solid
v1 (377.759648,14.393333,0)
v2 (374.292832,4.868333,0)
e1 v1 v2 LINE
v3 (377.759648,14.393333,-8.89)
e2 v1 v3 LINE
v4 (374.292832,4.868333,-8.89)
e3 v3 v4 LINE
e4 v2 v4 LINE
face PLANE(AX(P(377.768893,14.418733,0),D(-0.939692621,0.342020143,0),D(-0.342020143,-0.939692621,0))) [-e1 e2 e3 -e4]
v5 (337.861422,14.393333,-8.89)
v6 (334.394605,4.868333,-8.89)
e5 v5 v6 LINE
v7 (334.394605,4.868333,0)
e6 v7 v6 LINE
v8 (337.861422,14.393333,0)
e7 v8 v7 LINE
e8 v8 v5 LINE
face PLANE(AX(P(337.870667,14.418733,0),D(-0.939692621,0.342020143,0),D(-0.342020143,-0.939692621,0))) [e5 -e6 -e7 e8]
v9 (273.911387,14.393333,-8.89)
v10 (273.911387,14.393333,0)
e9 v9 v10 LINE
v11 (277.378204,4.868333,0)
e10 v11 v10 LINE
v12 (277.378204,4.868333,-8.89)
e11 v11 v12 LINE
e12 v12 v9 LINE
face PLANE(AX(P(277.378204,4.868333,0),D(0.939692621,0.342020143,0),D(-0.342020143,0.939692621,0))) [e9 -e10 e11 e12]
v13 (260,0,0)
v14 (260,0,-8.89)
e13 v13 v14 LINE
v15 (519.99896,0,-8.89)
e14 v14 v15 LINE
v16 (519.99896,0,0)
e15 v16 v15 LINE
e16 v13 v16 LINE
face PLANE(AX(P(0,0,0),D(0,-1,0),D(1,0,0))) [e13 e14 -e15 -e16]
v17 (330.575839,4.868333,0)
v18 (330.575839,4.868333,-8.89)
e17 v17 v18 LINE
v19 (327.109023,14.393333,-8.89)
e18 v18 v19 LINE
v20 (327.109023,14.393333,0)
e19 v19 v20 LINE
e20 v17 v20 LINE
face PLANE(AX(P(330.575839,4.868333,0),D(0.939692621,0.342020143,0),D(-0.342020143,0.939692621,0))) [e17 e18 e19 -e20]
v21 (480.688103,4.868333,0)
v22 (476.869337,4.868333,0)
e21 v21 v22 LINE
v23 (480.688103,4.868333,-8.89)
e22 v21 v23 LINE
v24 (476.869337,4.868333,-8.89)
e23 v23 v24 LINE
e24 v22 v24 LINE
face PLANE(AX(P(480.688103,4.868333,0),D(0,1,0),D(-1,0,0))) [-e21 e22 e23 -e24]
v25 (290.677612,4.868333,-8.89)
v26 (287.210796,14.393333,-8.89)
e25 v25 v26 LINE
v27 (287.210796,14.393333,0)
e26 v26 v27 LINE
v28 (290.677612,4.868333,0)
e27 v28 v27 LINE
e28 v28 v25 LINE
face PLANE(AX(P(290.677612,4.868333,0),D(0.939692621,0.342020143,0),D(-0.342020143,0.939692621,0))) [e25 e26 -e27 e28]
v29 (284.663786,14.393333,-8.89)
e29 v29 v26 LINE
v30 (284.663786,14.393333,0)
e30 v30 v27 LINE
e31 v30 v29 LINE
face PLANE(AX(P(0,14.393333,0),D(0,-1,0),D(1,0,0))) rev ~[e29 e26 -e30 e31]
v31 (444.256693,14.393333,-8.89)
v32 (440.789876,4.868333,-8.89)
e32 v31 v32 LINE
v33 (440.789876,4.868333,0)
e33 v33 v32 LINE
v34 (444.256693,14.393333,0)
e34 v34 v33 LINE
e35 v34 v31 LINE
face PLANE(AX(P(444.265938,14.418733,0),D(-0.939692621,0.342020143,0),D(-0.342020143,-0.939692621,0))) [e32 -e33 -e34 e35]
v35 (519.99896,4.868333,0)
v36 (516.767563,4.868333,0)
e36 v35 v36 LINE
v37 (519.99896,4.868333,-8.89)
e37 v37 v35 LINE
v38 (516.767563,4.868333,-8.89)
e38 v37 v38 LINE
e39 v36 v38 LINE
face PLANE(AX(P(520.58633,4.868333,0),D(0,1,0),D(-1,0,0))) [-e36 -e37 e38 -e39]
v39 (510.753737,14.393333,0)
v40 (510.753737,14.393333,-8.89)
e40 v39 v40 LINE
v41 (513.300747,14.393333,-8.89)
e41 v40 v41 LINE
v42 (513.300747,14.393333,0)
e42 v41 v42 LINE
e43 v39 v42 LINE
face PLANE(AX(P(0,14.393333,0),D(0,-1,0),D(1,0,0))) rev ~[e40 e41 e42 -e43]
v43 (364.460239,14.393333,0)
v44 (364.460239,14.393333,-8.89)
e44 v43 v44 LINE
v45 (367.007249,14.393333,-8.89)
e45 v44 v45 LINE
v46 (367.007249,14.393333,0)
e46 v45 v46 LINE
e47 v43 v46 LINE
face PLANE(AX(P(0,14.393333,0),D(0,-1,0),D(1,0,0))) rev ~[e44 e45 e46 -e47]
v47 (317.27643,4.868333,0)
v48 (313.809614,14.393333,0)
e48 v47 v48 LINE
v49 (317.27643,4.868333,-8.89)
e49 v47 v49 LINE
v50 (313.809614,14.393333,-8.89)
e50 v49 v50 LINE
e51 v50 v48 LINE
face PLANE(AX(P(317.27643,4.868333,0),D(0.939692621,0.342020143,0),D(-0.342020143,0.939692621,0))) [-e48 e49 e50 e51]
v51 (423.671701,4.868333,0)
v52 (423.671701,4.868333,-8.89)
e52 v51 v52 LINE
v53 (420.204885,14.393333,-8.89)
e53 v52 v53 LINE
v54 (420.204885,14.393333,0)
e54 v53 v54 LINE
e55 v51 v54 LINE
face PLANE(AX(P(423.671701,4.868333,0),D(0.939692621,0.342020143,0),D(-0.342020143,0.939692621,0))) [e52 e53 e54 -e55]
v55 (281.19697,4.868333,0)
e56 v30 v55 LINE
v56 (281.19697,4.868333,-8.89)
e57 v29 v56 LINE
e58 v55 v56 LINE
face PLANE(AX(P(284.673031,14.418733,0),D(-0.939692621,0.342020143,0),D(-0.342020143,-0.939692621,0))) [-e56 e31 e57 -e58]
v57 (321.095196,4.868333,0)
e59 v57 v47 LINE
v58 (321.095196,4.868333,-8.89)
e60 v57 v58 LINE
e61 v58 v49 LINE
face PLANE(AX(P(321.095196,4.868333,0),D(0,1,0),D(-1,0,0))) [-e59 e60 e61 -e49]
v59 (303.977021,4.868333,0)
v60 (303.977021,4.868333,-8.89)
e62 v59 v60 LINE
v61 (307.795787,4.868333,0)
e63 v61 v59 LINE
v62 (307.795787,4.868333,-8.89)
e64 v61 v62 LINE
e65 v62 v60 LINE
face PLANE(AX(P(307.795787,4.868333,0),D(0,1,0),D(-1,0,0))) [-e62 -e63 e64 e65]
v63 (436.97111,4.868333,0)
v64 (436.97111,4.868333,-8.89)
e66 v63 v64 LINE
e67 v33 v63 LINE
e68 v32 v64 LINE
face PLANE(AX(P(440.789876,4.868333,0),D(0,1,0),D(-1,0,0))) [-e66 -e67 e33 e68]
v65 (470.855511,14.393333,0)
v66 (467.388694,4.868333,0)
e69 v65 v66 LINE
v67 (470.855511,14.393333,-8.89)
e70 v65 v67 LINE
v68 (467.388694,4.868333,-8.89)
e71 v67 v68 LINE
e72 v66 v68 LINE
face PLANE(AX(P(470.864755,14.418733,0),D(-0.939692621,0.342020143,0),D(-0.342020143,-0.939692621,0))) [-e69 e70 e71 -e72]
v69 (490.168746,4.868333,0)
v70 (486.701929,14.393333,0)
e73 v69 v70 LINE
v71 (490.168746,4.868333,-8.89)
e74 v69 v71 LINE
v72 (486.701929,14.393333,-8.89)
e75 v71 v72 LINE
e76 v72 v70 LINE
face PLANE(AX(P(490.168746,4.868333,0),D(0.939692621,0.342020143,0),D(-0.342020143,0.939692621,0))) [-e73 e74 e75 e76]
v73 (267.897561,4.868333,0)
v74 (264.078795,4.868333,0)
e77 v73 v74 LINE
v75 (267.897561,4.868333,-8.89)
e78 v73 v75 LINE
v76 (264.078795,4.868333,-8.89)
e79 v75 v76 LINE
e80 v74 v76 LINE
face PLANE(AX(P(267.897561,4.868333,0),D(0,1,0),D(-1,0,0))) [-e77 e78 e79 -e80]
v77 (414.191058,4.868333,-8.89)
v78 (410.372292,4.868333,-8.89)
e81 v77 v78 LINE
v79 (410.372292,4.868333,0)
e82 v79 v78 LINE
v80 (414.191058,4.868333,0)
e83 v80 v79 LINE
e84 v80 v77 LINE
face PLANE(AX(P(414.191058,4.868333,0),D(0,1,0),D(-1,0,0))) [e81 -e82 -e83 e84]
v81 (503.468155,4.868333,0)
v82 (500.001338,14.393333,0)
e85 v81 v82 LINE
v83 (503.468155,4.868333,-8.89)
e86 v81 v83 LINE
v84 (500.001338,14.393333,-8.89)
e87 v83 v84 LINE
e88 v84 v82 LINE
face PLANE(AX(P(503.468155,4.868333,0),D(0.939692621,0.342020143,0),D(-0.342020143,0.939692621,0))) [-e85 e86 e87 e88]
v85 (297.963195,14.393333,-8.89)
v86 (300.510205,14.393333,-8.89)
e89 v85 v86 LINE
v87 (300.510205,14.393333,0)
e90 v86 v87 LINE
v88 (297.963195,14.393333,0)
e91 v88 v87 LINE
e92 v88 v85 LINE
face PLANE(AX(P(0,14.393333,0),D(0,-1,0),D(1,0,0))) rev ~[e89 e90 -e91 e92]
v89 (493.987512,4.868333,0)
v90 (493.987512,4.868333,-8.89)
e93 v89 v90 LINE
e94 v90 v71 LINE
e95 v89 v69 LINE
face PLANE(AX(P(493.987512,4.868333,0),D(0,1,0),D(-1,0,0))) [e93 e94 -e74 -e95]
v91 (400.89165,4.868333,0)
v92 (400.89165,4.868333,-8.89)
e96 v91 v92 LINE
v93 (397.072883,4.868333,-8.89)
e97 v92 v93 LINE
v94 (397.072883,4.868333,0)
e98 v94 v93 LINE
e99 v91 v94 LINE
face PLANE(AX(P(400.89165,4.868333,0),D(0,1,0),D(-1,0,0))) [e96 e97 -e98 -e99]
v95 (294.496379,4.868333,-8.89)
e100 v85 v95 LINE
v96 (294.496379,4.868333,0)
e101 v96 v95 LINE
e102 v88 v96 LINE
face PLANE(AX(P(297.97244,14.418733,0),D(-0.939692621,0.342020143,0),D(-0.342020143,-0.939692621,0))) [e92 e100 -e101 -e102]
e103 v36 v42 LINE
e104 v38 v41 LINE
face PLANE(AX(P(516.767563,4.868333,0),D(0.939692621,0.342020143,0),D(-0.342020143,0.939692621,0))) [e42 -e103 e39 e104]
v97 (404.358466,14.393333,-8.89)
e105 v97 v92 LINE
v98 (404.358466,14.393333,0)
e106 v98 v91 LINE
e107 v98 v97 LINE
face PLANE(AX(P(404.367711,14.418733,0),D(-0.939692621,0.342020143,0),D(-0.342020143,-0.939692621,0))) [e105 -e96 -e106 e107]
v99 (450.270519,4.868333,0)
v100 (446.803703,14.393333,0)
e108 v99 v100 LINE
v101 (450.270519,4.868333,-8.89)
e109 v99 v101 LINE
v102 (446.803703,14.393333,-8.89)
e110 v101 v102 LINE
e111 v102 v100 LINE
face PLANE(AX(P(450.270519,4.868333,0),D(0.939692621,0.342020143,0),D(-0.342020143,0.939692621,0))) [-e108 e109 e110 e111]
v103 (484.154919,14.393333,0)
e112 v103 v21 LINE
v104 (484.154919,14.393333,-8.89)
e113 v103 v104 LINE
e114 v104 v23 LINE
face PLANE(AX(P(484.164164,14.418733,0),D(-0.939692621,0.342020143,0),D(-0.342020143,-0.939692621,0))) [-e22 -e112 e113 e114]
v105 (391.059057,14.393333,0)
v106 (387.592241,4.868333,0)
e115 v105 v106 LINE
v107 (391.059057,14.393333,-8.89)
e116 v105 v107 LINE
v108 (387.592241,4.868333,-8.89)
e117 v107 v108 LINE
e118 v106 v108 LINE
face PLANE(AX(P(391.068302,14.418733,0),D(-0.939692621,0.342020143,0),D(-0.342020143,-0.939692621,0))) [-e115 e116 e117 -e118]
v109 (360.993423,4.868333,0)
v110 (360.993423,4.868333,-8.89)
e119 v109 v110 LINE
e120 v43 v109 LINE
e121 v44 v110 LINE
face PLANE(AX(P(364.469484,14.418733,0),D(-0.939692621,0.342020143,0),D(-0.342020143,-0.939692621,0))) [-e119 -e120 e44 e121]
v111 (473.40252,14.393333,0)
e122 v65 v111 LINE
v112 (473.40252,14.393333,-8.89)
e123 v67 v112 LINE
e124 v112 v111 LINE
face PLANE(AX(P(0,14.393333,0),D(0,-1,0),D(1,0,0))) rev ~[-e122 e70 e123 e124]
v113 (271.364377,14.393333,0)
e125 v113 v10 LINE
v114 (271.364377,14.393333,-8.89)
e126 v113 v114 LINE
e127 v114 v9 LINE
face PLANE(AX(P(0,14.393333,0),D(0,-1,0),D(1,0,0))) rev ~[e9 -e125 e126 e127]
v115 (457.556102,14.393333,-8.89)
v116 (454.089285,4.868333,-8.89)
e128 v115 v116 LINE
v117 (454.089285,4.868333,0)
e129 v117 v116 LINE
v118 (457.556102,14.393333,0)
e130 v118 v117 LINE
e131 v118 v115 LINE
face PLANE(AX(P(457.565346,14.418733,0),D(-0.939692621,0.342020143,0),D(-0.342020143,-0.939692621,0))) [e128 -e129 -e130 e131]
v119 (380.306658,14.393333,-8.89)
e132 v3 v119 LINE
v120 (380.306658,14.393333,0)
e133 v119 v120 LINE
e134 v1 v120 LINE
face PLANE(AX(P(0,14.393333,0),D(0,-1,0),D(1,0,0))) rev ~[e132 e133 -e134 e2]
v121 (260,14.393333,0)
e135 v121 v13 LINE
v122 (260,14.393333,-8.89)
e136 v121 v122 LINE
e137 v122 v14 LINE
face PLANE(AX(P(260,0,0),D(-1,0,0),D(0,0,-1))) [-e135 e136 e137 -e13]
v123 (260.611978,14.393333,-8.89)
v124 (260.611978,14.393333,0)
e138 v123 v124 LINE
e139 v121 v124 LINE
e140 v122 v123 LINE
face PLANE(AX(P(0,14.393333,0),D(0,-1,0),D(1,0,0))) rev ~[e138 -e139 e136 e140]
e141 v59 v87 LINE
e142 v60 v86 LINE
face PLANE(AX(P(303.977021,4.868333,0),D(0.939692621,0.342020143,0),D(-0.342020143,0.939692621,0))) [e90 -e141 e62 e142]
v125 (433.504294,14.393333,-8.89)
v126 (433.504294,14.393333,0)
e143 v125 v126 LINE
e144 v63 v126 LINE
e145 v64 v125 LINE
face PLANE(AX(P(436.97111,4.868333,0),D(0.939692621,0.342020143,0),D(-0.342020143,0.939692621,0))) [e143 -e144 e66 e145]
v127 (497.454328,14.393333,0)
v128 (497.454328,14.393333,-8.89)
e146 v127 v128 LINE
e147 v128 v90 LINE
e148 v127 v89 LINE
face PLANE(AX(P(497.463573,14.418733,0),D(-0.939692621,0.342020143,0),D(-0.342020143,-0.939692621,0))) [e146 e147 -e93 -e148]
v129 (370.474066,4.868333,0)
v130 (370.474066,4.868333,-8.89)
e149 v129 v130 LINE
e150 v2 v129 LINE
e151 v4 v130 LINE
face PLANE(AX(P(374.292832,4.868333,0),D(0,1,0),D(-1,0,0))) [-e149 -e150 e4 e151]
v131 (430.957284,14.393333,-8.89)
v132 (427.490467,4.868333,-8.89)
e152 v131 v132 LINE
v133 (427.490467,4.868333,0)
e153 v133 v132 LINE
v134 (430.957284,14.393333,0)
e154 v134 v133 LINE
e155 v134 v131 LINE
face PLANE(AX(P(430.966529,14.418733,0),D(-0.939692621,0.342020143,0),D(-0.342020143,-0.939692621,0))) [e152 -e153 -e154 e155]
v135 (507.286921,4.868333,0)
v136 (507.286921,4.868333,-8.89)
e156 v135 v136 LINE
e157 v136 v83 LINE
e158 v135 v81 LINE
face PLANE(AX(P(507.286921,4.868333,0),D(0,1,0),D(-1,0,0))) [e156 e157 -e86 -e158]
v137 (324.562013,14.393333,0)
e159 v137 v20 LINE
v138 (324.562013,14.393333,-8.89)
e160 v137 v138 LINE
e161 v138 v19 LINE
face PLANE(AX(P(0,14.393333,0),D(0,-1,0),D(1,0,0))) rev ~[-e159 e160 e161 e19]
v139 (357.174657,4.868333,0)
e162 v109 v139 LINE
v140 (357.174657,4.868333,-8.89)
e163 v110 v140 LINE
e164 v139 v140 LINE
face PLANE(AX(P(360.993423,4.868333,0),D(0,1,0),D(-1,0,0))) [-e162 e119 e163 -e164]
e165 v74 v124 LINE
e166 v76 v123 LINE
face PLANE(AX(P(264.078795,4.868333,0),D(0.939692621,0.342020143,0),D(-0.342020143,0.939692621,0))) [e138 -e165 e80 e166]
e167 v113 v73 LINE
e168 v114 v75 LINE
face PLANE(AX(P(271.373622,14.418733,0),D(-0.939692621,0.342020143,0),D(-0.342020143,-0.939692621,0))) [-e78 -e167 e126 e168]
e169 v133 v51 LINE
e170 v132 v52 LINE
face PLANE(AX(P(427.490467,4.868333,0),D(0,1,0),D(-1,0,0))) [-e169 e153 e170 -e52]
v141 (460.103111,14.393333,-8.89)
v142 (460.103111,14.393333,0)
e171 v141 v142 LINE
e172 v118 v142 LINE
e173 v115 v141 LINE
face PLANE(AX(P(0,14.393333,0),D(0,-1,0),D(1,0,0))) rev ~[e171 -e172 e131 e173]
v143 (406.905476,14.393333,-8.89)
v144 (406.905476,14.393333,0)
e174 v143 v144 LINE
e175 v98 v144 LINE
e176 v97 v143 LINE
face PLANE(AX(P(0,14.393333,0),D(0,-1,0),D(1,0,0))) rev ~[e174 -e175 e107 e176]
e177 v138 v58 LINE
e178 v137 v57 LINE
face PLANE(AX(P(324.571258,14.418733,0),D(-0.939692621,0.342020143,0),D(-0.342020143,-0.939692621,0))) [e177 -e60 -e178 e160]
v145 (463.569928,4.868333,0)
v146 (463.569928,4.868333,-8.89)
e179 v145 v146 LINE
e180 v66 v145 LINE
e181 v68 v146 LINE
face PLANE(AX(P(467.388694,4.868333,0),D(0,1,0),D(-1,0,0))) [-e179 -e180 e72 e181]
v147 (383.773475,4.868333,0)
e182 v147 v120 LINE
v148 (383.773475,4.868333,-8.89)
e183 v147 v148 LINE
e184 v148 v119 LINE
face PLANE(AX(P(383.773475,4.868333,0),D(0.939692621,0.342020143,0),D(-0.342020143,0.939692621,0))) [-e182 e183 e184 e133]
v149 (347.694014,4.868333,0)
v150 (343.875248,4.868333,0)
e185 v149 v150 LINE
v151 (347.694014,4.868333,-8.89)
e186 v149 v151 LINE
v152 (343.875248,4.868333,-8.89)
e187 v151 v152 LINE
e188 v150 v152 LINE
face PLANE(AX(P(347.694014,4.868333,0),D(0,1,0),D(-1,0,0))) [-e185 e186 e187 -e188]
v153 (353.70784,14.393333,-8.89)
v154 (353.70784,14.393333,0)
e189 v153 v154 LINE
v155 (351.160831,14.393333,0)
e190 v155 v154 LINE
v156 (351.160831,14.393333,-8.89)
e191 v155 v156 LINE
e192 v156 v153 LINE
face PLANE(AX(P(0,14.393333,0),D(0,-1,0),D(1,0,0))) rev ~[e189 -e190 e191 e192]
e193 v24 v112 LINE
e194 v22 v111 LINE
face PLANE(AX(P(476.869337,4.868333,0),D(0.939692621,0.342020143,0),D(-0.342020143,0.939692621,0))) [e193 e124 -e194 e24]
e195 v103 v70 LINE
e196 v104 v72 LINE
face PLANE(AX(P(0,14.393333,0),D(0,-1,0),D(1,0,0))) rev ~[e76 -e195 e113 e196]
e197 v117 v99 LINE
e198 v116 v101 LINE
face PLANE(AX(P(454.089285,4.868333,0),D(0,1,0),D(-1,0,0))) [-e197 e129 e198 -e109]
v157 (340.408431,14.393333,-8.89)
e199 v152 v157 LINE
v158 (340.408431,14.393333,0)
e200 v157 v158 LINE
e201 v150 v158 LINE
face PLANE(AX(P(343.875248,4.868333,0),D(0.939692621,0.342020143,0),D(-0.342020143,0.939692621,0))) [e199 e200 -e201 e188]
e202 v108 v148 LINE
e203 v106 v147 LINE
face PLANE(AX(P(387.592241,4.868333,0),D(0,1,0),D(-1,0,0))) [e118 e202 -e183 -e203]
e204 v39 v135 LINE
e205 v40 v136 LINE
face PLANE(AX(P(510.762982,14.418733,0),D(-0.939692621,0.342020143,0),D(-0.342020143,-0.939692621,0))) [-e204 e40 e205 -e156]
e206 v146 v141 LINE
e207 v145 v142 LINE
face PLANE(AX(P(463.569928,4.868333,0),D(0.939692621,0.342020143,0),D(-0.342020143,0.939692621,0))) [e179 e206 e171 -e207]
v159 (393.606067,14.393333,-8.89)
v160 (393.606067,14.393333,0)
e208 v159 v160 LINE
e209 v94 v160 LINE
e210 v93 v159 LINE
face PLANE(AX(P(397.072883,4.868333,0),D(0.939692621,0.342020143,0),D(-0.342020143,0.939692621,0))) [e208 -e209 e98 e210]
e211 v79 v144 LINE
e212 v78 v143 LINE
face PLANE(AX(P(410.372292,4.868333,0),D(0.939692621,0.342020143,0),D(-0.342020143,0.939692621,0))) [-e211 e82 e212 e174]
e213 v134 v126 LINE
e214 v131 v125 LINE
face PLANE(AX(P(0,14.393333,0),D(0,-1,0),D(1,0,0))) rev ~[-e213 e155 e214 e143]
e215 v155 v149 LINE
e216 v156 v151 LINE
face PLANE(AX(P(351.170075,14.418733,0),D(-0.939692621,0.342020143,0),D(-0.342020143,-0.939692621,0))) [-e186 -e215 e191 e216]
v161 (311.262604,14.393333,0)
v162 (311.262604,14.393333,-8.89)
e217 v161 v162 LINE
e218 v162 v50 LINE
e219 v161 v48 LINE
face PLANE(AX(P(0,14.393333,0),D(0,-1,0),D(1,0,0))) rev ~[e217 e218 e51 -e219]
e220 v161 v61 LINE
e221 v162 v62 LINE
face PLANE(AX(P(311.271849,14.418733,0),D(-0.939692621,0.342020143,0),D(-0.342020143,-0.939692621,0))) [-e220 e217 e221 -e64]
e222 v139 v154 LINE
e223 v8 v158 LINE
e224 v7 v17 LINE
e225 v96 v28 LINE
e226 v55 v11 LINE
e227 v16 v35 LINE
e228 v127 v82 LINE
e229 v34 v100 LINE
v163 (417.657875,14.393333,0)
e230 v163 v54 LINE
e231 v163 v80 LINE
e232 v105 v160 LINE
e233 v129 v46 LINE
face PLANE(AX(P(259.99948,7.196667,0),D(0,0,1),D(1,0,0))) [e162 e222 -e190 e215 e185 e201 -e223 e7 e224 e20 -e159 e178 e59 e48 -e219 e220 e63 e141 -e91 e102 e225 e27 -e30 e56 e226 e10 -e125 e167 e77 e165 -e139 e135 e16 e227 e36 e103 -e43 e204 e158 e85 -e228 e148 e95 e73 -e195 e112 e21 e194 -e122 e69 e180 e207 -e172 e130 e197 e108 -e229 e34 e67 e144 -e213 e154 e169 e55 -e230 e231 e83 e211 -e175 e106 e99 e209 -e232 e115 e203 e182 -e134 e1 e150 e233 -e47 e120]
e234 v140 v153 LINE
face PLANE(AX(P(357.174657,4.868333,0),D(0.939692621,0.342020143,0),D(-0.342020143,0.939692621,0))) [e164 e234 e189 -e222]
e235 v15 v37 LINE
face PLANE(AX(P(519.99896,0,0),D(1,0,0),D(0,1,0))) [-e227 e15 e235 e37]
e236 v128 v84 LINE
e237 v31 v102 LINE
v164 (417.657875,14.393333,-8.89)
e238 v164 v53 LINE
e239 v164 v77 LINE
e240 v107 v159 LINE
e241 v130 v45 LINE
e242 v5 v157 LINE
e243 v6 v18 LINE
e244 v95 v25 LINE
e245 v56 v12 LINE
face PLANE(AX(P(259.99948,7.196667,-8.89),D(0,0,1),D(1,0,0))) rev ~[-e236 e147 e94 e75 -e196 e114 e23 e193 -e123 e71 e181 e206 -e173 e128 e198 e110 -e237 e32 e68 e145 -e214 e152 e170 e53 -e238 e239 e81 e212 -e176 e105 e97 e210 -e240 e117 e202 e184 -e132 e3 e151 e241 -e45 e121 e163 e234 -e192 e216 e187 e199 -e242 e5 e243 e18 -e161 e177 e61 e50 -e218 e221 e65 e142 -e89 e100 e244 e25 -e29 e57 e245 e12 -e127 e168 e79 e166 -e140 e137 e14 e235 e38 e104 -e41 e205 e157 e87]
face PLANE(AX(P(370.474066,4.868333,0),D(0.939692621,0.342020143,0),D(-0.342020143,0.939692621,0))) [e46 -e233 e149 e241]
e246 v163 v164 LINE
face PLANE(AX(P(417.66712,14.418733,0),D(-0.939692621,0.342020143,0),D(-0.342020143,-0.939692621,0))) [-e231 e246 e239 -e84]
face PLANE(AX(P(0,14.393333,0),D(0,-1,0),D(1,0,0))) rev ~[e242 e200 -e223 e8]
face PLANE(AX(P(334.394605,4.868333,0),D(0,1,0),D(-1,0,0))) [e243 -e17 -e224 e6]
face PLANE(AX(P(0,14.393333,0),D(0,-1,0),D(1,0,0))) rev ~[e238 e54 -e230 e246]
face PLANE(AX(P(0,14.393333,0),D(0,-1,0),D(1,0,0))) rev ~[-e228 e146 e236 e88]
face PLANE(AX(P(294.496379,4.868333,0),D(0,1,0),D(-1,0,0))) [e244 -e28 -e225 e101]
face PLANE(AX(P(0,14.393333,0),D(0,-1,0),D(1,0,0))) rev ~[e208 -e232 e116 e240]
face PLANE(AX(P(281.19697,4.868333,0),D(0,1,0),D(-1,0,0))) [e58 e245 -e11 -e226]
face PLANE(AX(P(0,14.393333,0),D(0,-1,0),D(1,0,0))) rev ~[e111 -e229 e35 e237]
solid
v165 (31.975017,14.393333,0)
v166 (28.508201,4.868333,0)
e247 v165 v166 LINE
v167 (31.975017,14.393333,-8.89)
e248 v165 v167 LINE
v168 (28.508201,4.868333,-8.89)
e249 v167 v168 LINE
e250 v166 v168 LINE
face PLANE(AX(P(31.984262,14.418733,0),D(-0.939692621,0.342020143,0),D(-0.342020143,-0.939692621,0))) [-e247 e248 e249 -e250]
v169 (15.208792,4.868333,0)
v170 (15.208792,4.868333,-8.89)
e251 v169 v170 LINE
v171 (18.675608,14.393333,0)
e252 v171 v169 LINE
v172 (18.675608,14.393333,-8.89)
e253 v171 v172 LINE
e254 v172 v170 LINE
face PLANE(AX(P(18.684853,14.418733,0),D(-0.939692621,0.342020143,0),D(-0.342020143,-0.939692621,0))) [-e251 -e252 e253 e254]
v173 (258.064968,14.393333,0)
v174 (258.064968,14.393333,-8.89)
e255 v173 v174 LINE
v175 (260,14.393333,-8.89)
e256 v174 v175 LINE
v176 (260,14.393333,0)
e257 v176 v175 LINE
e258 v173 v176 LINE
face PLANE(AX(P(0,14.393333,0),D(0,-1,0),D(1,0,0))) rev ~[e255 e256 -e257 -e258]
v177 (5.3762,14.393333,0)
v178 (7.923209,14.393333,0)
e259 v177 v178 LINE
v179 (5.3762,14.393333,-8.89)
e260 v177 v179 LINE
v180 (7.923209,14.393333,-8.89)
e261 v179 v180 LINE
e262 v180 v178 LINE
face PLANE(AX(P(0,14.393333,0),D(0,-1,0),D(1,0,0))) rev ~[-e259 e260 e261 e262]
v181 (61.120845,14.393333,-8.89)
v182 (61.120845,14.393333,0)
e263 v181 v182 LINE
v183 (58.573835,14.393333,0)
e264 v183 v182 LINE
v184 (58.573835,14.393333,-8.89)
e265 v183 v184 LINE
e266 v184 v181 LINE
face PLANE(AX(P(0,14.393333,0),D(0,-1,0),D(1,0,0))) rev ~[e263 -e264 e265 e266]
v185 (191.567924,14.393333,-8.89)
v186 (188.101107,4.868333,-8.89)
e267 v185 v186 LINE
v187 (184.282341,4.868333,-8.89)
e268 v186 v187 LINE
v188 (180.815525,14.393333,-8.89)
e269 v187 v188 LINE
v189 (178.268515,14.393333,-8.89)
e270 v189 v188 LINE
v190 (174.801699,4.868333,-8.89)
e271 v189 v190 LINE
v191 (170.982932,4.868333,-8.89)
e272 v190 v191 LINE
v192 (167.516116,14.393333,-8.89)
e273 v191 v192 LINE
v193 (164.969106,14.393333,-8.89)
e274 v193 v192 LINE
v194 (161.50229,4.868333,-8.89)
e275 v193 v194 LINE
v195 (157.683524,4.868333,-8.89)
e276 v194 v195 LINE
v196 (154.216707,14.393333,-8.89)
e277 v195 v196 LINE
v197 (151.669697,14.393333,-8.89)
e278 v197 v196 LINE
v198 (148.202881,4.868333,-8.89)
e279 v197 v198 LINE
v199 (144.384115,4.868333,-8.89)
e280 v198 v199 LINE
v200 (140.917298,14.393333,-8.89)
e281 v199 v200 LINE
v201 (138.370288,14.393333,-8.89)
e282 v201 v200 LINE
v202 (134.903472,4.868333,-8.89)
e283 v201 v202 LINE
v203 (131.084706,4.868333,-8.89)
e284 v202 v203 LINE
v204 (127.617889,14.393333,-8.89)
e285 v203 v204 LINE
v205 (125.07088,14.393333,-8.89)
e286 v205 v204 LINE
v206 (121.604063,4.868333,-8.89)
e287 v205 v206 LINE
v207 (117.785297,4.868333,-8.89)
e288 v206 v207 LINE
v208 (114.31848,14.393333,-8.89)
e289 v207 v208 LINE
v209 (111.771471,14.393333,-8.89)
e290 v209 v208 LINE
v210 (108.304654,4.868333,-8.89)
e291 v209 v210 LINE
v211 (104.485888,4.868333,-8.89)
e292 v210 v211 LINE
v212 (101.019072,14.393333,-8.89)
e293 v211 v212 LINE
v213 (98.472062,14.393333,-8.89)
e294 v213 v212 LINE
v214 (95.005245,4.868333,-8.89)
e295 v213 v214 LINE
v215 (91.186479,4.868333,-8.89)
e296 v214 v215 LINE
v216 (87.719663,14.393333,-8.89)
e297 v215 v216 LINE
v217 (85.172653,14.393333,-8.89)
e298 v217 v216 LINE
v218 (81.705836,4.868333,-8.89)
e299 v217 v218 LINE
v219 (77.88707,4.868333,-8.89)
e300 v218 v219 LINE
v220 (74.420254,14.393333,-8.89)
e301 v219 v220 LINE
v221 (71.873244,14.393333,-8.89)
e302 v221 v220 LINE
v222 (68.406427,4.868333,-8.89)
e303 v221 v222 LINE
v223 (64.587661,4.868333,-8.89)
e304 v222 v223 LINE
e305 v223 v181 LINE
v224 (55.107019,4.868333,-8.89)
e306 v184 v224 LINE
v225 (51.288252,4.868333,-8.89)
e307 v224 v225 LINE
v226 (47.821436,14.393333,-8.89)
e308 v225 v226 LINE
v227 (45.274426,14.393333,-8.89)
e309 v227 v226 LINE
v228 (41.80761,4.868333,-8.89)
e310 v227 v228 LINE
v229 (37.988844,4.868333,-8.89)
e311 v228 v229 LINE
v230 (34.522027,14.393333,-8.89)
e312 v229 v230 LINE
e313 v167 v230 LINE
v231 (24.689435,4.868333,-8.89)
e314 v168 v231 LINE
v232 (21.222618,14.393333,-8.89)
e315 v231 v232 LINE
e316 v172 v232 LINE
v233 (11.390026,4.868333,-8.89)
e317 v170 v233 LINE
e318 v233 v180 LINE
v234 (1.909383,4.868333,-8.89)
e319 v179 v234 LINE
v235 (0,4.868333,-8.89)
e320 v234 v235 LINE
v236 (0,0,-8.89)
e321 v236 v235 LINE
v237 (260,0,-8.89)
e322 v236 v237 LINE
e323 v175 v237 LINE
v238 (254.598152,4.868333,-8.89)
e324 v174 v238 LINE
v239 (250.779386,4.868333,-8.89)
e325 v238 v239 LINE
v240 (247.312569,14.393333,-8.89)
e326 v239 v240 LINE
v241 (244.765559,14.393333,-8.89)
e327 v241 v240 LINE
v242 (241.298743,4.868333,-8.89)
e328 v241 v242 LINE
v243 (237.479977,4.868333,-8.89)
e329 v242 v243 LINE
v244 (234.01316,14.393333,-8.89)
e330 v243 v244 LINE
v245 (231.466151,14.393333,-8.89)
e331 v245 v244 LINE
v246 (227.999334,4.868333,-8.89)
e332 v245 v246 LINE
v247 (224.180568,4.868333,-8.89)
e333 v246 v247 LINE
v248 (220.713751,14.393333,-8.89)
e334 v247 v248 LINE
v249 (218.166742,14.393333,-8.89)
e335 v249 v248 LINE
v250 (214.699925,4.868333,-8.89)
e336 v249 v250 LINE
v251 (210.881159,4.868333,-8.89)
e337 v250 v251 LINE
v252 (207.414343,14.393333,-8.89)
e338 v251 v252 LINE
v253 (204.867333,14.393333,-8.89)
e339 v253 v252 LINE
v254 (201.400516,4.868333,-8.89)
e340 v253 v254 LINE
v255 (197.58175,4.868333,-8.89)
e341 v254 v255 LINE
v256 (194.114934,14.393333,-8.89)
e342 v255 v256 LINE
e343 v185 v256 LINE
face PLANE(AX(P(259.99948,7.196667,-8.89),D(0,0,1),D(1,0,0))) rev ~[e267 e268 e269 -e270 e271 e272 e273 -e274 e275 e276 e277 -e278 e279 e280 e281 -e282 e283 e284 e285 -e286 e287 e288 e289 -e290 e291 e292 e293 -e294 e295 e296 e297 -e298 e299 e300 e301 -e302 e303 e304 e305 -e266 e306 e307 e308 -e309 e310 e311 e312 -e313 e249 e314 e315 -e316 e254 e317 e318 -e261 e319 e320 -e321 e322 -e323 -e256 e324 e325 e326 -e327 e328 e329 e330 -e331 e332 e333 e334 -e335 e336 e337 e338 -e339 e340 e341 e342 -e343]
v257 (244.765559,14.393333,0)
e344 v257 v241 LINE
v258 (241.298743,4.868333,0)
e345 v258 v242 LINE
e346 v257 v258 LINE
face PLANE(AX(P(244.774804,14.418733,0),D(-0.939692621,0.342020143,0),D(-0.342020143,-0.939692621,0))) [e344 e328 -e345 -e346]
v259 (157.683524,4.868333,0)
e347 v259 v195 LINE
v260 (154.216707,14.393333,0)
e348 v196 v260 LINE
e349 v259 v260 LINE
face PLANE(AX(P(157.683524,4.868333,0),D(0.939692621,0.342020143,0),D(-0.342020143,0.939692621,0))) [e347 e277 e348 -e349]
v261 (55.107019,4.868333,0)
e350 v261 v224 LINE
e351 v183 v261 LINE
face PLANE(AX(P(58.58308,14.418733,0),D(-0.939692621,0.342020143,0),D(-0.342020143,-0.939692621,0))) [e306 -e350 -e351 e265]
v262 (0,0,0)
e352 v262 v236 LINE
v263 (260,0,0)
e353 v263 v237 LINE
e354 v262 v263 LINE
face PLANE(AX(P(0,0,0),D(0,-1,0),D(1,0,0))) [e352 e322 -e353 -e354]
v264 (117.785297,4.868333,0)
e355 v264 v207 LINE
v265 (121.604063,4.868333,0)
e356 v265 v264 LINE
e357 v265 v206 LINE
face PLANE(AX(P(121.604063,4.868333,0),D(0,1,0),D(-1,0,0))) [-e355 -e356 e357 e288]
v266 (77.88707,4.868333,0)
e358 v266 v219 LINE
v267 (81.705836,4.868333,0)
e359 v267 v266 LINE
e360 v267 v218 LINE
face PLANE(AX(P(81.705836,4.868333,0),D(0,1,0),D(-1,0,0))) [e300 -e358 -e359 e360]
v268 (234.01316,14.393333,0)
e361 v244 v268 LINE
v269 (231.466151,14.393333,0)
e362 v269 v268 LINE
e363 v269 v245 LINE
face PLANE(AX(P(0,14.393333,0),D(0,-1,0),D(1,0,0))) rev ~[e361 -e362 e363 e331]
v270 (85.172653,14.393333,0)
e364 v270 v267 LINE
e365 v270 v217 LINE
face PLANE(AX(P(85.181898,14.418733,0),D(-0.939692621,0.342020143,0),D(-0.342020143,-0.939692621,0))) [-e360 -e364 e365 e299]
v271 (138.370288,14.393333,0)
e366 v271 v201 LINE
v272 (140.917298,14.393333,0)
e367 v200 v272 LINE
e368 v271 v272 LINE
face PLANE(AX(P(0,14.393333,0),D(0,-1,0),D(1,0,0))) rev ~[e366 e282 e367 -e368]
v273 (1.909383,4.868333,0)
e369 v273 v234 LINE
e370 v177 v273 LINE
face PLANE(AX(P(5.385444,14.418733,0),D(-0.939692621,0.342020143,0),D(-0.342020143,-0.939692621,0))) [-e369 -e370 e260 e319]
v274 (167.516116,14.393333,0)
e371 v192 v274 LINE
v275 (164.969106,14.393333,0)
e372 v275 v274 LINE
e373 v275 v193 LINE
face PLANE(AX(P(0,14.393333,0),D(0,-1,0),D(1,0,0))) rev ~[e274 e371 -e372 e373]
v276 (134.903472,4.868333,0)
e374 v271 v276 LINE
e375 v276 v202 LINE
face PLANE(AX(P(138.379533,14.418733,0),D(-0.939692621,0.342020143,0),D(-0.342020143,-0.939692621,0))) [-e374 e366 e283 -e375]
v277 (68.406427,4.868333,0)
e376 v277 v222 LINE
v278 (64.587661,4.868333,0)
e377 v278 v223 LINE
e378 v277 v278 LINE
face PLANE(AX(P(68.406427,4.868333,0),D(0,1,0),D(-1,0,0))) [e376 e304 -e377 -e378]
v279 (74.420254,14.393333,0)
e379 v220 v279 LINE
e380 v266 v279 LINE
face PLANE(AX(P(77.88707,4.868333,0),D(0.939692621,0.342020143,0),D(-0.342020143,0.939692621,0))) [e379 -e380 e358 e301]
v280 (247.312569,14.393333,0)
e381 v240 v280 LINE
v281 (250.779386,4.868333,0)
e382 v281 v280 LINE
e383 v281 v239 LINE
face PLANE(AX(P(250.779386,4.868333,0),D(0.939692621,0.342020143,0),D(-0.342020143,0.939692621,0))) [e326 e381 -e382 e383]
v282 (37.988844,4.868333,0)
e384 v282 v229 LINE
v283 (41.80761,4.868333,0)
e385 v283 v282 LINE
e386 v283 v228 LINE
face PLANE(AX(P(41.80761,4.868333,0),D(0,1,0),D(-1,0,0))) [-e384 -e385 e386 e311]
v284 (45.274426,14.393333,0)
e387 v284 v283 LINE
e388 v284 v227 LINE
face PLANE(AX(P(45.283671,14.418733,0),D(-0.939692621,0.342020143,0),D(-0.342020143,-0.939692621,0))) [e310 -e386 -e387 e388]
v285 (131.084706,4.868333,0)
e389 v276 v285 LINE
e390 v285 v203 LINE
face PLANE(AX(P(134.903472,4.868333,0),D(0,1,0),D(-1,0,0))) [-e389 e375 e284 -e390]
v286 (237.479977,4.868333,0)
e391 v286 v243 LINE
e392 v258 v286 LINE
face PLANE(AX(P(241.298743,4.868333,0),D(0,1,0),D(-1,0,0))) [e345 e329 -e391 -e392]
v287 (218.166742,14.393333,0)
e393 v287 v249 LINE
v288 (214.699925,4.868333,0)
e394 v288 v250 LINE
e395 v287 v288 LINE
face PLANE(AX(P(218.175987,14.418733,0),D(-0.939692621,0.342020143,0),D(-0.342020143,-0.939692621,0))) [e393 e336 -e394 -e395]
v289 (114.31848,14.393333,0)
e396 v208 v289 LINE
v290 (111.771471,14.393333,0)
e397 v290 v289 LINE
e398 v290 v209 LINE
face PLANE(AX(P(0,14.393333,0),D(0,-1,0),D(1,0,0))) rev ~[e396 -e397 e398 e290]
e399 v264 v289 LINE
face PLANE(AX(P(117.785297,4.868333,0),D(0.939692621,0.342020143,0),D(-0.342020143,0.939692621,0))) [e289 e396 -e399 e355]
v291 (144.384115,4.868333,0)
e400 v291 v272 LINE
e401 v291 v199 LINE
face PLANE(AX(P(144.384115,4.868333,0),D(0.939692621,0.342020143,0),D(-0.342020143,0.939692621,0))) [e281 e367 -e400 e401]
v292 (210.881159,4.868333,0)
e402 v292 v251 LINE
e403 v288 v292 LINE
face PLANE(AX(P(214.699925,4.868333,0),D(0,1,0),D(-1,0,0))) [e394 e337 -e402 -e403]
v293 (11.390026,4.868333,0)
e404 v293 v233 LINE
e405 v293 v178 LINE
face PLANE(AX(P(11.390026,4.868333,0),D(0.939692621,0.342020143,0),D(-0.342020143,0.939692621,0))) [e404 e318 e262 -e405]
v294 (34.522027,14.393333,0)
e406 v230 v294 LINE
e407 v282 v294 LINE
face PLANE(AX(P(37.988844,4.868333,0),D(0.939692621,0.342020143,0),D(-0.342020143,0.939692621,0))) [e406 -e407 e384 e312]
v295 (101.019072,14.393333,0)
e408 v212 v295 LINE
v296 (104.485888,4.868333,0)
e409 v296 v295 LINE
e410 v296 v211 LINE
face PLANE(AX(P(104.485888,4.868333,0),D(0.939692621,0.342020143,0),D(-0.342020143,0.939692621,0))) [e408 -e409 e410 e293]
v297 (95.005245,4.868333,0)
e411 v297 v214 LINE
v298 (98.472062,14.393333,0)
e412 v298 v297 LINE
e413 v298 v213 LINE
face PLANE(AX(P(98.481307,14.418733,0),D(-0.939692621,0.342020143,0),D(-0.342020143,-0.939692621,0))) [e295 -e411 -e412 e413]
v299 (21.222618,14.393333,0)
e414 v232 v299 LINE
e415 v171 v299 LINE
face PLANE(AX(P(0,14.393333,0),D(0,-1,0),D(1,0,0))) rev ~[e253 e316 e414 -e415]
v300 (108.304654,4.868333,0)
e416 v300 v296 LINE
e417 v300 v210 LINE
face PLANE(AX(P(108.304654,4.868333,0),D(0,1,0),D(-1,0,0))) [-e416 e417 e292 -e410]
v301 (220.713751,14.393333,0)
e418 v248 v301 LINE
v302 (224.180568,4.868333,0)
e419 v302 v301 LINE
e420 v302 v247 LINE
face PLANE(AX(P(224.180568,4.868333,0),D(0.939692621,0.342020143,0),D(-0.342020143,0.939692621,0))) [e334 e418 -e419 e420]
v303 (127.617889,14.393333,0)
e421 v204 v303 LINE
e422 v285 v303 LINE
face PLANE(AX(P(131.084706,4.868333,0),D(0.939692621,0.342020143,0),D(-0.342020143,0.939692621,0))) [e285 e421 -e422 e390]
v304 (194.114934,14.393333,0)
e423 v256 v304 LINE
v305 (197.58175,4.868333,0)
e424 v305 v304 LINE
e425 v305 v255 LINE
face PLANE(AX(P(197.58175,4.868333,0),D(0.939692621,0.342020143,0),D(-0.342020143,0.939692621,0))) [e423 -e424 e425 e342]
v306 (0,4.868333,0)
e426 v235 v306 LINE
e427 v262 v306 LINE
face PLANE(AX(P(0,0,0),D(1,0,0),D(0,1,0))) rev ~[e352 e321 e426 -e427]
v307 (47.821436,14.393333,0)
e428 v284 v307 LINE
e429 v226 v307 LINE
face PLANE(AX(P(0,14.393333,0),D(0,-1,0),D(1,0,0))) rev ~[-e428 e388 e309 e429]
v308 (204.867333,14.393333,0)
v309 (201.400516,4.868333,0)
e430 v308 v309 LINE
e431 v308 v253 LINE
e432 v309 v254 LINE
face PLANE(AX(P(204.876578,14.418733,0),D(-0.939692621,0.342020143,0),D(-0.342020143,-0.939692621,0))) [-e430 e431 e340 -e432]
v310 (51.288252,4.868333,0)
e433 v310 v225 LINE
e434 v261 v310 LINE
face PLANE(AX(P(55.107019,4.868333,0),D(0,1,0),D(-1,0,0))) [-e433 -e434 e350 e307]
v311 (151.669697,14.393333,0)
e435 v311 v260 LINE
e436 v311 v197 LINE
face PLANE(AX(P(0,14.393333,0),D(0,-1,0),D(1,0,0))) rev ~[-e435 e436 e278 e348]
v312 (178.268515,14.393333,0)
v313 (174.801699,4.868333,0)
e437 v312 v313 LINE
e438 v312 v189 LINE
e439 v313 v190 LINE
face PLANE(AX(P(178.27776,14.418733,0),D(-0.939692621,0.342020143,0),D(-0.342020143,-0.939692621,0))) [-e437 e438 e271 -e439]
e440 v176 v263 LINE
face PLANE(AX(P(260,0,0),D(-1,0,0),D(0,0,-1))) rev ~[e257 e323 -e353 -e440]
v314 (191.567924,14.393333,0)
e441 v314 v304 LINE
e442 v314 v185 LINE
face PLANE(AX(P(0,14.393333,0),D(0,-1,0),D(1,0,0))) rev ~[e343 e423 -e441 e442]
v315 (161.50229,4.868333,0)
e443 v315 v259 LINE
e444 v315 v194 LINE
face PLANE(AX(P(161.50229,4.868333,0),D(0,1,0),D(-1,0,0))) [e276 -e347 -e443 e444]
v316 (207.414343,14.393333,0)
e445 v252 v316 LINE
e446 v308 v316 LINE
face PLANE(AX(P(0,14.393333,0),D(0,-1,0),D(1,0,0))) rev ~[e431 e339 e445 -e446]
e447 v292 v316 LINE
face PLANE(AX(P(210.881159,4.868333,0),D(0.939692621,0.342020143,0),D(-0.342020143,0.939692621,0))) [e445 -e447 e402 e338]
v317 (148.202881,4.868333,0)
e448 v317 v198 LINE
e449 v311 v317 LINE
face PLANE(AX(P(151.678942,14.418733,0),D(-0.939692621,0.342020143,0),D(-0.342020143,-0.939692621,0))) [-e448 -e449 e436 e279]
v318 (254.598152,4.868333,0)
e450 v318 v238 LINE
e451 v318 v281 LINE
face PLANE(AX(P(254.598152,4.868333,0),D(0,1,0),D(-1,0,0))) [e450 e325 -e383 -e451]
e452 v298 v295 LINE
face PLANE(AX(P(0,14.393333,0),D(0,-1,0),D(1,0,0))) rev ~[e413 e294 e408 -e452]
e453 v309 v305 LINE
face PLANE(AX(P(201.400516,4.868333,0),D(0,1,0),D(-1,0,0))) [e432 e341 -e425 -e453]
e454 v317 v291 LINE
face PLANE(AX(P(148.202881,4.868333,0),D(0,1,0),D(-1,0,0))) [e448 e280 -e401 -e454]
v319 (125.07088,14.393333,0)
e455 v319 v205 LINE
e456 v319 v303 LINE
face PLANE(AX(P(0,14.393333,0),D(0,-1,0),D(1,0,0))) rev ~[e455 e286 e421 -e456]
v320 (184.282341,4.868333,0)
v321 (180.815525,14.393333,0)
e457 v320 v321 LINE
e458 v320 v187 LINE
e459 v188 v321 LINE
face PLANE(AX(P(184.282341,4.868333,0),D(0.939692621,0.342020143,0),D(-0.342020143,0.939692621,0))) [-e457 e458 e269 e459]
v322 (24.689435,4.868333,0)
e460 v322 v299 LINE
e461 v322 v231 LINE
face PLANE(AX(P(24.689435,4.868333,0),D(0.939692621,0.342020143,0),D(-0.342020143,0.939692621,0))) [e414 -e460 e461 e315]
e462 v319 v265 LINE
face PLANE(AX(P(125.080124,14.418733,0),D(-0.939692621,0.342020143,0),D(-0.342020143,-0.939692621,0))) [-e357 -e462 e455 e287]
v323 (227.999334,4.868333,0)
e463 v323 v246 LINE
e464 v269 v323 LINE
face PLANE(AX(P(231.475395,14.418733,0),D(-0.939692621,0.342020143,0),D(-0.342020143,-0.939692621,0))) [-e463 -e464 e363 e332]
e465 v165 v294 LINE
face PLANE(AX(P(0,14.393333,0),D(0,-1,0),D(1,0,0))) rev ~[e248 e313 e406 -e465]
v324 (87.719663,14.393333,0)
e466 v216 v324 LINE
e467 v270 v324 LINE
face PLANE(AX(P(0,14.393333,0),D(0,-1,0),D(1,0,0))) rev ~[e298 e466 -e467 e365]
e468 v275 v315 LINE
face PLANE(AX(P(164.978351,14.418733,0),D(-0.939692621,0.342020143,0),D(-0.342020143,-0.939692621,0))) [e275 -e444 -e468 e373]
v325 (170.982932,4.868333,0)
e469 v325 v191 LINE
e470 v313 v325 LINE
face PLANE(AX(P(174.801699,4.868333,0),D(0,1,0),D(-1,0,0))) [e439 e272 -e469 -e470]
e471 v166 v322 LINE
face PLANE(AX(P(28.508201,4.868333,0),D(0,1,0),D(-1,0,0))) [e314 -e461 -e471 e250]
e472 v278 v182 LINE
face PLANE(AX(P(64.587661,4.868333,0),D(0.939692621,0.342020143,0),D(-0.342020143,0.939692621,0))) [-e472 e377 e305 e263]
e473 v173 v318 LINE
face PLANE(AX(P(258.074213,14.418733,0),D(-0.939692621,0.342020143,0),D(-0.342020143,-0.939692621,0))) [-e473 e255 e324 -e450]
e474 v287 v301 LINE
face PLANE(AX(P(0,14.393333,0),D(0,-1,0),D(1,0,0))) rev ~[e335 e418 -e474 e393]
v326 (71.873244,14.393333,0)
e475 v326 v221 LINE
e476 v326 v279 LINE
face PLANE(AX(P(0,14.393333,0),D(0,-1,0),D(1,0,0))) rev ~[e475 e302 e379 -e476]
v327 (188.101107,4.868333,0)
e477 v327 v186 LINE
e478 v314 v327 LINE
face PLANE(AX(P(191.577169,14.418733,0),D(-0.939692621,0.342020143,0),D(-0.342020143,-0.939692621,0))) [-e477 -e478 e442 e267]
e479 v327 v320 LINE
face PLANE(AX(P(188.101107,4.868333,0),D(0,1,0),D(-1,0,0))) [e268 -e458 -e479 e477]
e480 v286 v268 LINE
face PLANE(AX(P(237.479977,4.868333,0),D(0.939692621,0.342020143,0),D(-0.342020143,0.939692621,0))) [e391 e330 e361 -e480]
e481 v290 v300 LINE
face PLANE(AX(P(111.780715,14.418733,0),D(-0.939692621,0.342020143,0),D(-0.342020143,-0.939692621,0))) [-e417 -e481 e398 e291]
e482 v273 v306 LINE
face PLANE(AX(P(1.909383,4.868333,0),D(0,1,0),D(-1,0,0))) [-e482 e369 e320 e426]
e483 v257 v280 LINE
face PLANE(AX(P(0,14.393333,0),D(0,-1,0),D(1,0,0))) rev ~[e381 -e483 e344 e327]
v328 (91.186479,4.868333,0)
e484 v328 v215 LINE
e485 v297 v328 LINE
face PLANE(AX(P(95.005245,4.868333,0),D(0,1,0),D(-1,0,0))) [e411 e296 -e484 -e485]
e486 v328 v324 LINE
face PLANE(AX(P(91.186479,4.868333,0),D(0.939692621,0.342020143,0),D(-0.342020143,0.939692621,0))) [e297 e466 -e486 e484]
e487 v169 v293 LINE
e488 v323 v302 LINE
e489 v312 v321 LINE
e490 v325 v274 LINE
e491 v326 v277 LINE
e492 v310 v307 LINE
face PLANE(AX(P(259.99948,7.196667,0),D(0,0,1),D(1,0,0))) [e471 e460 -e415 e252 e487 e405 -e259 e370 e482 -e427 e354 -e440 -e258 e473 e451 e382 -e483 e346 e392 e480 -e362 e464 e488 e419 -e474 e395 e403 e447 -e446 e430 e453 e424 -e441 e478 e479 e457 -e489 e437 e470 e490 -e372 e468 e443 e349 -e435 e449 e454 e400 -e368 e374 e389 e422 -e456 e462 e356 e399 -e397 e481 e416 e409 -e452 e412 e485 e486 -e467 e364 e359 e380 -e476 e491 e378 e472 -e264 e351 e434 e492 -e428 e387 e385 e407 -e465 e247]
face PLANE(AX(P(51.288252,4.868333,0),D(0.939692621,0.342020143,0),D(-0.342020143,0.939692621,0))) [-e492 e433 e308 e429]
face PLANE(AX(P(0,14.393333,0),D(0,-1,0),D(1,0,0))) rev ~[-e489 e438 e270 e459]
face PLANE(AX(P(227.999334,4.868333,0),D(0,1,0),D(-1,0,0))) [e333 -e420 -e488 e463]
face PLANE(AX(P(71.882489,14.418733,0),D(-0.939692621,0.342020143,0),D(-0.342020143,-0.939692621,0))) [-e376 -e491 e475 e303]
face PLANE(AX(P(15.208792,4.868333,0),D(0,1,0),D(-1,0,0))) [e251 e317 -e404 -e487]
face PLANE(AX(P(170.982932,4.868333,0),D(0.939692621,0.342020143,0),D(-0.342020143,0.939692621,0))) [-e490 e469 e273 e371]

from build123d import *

# Parameters (mm, degrees)
BLANKSKE_W        = 519.99896
BLANKSKE_H        = 14.393333333
BLANK_DEPTH       = 8.89
TOOTHCUTSIM_DEPTH = 521.274080217
TEETHCUTS_COUNT   = 40
TEETHCUTS_PITCH   = 13.299408885


with BuildPart() as part:
    # BlankSke → Blank (new body)
    with BuildSketch(Plane.XY):
        with Locations((259.99948, 7.196666667)):
            Rectangle(BLANKSKE_W, BLANKSKE_H)
    extrude(amount=-BLANK_DEPTH)

    # TooCutSkeSim → ToothCutSim (cut, through all)
    with BuildSketch(Plane.XY):
        Polygon((1.909383065, 4.868333333), (-1.909383065, 4.868333333), (-5.38544439, 14.418733333), (5.38544439, 14.418733333), align=None)
    toothcutsim = extrude(amount=-TOOTHCUTSIM_DEPTH, mode=Mode.SUBTRACT)

    # TeethCuts: ToothCutSim ×40
    with Locations(*[(i * TEETHCUTS_PITCH, 0, 0) for i in range(1, TEETHCUTS_COUNT)]):
        add(toothcutsim, mode=Mode.SUBTRACT)


with BuildPart() as body_2:
    # Split1: the piece on the far side of the plane
    add(part.part)
    split(bisect_by=Plane(origin=(259.999999938, 0, 0), x_dir=(0, 0, -1), z_dir=(-1, 0, 0)), keep=Keep.BOTTOM)


with BuildPart() as part_1:
    add(part.part)

    # Split1
    split(bisect_by=Plane(origin=(259.999999938, 0, 0), x_dir=(0, 0, -1), z_dir=(-1, 0, 0)), keep=Keep.TOP)


solid = Compound([body_2.part, part_1.part])
